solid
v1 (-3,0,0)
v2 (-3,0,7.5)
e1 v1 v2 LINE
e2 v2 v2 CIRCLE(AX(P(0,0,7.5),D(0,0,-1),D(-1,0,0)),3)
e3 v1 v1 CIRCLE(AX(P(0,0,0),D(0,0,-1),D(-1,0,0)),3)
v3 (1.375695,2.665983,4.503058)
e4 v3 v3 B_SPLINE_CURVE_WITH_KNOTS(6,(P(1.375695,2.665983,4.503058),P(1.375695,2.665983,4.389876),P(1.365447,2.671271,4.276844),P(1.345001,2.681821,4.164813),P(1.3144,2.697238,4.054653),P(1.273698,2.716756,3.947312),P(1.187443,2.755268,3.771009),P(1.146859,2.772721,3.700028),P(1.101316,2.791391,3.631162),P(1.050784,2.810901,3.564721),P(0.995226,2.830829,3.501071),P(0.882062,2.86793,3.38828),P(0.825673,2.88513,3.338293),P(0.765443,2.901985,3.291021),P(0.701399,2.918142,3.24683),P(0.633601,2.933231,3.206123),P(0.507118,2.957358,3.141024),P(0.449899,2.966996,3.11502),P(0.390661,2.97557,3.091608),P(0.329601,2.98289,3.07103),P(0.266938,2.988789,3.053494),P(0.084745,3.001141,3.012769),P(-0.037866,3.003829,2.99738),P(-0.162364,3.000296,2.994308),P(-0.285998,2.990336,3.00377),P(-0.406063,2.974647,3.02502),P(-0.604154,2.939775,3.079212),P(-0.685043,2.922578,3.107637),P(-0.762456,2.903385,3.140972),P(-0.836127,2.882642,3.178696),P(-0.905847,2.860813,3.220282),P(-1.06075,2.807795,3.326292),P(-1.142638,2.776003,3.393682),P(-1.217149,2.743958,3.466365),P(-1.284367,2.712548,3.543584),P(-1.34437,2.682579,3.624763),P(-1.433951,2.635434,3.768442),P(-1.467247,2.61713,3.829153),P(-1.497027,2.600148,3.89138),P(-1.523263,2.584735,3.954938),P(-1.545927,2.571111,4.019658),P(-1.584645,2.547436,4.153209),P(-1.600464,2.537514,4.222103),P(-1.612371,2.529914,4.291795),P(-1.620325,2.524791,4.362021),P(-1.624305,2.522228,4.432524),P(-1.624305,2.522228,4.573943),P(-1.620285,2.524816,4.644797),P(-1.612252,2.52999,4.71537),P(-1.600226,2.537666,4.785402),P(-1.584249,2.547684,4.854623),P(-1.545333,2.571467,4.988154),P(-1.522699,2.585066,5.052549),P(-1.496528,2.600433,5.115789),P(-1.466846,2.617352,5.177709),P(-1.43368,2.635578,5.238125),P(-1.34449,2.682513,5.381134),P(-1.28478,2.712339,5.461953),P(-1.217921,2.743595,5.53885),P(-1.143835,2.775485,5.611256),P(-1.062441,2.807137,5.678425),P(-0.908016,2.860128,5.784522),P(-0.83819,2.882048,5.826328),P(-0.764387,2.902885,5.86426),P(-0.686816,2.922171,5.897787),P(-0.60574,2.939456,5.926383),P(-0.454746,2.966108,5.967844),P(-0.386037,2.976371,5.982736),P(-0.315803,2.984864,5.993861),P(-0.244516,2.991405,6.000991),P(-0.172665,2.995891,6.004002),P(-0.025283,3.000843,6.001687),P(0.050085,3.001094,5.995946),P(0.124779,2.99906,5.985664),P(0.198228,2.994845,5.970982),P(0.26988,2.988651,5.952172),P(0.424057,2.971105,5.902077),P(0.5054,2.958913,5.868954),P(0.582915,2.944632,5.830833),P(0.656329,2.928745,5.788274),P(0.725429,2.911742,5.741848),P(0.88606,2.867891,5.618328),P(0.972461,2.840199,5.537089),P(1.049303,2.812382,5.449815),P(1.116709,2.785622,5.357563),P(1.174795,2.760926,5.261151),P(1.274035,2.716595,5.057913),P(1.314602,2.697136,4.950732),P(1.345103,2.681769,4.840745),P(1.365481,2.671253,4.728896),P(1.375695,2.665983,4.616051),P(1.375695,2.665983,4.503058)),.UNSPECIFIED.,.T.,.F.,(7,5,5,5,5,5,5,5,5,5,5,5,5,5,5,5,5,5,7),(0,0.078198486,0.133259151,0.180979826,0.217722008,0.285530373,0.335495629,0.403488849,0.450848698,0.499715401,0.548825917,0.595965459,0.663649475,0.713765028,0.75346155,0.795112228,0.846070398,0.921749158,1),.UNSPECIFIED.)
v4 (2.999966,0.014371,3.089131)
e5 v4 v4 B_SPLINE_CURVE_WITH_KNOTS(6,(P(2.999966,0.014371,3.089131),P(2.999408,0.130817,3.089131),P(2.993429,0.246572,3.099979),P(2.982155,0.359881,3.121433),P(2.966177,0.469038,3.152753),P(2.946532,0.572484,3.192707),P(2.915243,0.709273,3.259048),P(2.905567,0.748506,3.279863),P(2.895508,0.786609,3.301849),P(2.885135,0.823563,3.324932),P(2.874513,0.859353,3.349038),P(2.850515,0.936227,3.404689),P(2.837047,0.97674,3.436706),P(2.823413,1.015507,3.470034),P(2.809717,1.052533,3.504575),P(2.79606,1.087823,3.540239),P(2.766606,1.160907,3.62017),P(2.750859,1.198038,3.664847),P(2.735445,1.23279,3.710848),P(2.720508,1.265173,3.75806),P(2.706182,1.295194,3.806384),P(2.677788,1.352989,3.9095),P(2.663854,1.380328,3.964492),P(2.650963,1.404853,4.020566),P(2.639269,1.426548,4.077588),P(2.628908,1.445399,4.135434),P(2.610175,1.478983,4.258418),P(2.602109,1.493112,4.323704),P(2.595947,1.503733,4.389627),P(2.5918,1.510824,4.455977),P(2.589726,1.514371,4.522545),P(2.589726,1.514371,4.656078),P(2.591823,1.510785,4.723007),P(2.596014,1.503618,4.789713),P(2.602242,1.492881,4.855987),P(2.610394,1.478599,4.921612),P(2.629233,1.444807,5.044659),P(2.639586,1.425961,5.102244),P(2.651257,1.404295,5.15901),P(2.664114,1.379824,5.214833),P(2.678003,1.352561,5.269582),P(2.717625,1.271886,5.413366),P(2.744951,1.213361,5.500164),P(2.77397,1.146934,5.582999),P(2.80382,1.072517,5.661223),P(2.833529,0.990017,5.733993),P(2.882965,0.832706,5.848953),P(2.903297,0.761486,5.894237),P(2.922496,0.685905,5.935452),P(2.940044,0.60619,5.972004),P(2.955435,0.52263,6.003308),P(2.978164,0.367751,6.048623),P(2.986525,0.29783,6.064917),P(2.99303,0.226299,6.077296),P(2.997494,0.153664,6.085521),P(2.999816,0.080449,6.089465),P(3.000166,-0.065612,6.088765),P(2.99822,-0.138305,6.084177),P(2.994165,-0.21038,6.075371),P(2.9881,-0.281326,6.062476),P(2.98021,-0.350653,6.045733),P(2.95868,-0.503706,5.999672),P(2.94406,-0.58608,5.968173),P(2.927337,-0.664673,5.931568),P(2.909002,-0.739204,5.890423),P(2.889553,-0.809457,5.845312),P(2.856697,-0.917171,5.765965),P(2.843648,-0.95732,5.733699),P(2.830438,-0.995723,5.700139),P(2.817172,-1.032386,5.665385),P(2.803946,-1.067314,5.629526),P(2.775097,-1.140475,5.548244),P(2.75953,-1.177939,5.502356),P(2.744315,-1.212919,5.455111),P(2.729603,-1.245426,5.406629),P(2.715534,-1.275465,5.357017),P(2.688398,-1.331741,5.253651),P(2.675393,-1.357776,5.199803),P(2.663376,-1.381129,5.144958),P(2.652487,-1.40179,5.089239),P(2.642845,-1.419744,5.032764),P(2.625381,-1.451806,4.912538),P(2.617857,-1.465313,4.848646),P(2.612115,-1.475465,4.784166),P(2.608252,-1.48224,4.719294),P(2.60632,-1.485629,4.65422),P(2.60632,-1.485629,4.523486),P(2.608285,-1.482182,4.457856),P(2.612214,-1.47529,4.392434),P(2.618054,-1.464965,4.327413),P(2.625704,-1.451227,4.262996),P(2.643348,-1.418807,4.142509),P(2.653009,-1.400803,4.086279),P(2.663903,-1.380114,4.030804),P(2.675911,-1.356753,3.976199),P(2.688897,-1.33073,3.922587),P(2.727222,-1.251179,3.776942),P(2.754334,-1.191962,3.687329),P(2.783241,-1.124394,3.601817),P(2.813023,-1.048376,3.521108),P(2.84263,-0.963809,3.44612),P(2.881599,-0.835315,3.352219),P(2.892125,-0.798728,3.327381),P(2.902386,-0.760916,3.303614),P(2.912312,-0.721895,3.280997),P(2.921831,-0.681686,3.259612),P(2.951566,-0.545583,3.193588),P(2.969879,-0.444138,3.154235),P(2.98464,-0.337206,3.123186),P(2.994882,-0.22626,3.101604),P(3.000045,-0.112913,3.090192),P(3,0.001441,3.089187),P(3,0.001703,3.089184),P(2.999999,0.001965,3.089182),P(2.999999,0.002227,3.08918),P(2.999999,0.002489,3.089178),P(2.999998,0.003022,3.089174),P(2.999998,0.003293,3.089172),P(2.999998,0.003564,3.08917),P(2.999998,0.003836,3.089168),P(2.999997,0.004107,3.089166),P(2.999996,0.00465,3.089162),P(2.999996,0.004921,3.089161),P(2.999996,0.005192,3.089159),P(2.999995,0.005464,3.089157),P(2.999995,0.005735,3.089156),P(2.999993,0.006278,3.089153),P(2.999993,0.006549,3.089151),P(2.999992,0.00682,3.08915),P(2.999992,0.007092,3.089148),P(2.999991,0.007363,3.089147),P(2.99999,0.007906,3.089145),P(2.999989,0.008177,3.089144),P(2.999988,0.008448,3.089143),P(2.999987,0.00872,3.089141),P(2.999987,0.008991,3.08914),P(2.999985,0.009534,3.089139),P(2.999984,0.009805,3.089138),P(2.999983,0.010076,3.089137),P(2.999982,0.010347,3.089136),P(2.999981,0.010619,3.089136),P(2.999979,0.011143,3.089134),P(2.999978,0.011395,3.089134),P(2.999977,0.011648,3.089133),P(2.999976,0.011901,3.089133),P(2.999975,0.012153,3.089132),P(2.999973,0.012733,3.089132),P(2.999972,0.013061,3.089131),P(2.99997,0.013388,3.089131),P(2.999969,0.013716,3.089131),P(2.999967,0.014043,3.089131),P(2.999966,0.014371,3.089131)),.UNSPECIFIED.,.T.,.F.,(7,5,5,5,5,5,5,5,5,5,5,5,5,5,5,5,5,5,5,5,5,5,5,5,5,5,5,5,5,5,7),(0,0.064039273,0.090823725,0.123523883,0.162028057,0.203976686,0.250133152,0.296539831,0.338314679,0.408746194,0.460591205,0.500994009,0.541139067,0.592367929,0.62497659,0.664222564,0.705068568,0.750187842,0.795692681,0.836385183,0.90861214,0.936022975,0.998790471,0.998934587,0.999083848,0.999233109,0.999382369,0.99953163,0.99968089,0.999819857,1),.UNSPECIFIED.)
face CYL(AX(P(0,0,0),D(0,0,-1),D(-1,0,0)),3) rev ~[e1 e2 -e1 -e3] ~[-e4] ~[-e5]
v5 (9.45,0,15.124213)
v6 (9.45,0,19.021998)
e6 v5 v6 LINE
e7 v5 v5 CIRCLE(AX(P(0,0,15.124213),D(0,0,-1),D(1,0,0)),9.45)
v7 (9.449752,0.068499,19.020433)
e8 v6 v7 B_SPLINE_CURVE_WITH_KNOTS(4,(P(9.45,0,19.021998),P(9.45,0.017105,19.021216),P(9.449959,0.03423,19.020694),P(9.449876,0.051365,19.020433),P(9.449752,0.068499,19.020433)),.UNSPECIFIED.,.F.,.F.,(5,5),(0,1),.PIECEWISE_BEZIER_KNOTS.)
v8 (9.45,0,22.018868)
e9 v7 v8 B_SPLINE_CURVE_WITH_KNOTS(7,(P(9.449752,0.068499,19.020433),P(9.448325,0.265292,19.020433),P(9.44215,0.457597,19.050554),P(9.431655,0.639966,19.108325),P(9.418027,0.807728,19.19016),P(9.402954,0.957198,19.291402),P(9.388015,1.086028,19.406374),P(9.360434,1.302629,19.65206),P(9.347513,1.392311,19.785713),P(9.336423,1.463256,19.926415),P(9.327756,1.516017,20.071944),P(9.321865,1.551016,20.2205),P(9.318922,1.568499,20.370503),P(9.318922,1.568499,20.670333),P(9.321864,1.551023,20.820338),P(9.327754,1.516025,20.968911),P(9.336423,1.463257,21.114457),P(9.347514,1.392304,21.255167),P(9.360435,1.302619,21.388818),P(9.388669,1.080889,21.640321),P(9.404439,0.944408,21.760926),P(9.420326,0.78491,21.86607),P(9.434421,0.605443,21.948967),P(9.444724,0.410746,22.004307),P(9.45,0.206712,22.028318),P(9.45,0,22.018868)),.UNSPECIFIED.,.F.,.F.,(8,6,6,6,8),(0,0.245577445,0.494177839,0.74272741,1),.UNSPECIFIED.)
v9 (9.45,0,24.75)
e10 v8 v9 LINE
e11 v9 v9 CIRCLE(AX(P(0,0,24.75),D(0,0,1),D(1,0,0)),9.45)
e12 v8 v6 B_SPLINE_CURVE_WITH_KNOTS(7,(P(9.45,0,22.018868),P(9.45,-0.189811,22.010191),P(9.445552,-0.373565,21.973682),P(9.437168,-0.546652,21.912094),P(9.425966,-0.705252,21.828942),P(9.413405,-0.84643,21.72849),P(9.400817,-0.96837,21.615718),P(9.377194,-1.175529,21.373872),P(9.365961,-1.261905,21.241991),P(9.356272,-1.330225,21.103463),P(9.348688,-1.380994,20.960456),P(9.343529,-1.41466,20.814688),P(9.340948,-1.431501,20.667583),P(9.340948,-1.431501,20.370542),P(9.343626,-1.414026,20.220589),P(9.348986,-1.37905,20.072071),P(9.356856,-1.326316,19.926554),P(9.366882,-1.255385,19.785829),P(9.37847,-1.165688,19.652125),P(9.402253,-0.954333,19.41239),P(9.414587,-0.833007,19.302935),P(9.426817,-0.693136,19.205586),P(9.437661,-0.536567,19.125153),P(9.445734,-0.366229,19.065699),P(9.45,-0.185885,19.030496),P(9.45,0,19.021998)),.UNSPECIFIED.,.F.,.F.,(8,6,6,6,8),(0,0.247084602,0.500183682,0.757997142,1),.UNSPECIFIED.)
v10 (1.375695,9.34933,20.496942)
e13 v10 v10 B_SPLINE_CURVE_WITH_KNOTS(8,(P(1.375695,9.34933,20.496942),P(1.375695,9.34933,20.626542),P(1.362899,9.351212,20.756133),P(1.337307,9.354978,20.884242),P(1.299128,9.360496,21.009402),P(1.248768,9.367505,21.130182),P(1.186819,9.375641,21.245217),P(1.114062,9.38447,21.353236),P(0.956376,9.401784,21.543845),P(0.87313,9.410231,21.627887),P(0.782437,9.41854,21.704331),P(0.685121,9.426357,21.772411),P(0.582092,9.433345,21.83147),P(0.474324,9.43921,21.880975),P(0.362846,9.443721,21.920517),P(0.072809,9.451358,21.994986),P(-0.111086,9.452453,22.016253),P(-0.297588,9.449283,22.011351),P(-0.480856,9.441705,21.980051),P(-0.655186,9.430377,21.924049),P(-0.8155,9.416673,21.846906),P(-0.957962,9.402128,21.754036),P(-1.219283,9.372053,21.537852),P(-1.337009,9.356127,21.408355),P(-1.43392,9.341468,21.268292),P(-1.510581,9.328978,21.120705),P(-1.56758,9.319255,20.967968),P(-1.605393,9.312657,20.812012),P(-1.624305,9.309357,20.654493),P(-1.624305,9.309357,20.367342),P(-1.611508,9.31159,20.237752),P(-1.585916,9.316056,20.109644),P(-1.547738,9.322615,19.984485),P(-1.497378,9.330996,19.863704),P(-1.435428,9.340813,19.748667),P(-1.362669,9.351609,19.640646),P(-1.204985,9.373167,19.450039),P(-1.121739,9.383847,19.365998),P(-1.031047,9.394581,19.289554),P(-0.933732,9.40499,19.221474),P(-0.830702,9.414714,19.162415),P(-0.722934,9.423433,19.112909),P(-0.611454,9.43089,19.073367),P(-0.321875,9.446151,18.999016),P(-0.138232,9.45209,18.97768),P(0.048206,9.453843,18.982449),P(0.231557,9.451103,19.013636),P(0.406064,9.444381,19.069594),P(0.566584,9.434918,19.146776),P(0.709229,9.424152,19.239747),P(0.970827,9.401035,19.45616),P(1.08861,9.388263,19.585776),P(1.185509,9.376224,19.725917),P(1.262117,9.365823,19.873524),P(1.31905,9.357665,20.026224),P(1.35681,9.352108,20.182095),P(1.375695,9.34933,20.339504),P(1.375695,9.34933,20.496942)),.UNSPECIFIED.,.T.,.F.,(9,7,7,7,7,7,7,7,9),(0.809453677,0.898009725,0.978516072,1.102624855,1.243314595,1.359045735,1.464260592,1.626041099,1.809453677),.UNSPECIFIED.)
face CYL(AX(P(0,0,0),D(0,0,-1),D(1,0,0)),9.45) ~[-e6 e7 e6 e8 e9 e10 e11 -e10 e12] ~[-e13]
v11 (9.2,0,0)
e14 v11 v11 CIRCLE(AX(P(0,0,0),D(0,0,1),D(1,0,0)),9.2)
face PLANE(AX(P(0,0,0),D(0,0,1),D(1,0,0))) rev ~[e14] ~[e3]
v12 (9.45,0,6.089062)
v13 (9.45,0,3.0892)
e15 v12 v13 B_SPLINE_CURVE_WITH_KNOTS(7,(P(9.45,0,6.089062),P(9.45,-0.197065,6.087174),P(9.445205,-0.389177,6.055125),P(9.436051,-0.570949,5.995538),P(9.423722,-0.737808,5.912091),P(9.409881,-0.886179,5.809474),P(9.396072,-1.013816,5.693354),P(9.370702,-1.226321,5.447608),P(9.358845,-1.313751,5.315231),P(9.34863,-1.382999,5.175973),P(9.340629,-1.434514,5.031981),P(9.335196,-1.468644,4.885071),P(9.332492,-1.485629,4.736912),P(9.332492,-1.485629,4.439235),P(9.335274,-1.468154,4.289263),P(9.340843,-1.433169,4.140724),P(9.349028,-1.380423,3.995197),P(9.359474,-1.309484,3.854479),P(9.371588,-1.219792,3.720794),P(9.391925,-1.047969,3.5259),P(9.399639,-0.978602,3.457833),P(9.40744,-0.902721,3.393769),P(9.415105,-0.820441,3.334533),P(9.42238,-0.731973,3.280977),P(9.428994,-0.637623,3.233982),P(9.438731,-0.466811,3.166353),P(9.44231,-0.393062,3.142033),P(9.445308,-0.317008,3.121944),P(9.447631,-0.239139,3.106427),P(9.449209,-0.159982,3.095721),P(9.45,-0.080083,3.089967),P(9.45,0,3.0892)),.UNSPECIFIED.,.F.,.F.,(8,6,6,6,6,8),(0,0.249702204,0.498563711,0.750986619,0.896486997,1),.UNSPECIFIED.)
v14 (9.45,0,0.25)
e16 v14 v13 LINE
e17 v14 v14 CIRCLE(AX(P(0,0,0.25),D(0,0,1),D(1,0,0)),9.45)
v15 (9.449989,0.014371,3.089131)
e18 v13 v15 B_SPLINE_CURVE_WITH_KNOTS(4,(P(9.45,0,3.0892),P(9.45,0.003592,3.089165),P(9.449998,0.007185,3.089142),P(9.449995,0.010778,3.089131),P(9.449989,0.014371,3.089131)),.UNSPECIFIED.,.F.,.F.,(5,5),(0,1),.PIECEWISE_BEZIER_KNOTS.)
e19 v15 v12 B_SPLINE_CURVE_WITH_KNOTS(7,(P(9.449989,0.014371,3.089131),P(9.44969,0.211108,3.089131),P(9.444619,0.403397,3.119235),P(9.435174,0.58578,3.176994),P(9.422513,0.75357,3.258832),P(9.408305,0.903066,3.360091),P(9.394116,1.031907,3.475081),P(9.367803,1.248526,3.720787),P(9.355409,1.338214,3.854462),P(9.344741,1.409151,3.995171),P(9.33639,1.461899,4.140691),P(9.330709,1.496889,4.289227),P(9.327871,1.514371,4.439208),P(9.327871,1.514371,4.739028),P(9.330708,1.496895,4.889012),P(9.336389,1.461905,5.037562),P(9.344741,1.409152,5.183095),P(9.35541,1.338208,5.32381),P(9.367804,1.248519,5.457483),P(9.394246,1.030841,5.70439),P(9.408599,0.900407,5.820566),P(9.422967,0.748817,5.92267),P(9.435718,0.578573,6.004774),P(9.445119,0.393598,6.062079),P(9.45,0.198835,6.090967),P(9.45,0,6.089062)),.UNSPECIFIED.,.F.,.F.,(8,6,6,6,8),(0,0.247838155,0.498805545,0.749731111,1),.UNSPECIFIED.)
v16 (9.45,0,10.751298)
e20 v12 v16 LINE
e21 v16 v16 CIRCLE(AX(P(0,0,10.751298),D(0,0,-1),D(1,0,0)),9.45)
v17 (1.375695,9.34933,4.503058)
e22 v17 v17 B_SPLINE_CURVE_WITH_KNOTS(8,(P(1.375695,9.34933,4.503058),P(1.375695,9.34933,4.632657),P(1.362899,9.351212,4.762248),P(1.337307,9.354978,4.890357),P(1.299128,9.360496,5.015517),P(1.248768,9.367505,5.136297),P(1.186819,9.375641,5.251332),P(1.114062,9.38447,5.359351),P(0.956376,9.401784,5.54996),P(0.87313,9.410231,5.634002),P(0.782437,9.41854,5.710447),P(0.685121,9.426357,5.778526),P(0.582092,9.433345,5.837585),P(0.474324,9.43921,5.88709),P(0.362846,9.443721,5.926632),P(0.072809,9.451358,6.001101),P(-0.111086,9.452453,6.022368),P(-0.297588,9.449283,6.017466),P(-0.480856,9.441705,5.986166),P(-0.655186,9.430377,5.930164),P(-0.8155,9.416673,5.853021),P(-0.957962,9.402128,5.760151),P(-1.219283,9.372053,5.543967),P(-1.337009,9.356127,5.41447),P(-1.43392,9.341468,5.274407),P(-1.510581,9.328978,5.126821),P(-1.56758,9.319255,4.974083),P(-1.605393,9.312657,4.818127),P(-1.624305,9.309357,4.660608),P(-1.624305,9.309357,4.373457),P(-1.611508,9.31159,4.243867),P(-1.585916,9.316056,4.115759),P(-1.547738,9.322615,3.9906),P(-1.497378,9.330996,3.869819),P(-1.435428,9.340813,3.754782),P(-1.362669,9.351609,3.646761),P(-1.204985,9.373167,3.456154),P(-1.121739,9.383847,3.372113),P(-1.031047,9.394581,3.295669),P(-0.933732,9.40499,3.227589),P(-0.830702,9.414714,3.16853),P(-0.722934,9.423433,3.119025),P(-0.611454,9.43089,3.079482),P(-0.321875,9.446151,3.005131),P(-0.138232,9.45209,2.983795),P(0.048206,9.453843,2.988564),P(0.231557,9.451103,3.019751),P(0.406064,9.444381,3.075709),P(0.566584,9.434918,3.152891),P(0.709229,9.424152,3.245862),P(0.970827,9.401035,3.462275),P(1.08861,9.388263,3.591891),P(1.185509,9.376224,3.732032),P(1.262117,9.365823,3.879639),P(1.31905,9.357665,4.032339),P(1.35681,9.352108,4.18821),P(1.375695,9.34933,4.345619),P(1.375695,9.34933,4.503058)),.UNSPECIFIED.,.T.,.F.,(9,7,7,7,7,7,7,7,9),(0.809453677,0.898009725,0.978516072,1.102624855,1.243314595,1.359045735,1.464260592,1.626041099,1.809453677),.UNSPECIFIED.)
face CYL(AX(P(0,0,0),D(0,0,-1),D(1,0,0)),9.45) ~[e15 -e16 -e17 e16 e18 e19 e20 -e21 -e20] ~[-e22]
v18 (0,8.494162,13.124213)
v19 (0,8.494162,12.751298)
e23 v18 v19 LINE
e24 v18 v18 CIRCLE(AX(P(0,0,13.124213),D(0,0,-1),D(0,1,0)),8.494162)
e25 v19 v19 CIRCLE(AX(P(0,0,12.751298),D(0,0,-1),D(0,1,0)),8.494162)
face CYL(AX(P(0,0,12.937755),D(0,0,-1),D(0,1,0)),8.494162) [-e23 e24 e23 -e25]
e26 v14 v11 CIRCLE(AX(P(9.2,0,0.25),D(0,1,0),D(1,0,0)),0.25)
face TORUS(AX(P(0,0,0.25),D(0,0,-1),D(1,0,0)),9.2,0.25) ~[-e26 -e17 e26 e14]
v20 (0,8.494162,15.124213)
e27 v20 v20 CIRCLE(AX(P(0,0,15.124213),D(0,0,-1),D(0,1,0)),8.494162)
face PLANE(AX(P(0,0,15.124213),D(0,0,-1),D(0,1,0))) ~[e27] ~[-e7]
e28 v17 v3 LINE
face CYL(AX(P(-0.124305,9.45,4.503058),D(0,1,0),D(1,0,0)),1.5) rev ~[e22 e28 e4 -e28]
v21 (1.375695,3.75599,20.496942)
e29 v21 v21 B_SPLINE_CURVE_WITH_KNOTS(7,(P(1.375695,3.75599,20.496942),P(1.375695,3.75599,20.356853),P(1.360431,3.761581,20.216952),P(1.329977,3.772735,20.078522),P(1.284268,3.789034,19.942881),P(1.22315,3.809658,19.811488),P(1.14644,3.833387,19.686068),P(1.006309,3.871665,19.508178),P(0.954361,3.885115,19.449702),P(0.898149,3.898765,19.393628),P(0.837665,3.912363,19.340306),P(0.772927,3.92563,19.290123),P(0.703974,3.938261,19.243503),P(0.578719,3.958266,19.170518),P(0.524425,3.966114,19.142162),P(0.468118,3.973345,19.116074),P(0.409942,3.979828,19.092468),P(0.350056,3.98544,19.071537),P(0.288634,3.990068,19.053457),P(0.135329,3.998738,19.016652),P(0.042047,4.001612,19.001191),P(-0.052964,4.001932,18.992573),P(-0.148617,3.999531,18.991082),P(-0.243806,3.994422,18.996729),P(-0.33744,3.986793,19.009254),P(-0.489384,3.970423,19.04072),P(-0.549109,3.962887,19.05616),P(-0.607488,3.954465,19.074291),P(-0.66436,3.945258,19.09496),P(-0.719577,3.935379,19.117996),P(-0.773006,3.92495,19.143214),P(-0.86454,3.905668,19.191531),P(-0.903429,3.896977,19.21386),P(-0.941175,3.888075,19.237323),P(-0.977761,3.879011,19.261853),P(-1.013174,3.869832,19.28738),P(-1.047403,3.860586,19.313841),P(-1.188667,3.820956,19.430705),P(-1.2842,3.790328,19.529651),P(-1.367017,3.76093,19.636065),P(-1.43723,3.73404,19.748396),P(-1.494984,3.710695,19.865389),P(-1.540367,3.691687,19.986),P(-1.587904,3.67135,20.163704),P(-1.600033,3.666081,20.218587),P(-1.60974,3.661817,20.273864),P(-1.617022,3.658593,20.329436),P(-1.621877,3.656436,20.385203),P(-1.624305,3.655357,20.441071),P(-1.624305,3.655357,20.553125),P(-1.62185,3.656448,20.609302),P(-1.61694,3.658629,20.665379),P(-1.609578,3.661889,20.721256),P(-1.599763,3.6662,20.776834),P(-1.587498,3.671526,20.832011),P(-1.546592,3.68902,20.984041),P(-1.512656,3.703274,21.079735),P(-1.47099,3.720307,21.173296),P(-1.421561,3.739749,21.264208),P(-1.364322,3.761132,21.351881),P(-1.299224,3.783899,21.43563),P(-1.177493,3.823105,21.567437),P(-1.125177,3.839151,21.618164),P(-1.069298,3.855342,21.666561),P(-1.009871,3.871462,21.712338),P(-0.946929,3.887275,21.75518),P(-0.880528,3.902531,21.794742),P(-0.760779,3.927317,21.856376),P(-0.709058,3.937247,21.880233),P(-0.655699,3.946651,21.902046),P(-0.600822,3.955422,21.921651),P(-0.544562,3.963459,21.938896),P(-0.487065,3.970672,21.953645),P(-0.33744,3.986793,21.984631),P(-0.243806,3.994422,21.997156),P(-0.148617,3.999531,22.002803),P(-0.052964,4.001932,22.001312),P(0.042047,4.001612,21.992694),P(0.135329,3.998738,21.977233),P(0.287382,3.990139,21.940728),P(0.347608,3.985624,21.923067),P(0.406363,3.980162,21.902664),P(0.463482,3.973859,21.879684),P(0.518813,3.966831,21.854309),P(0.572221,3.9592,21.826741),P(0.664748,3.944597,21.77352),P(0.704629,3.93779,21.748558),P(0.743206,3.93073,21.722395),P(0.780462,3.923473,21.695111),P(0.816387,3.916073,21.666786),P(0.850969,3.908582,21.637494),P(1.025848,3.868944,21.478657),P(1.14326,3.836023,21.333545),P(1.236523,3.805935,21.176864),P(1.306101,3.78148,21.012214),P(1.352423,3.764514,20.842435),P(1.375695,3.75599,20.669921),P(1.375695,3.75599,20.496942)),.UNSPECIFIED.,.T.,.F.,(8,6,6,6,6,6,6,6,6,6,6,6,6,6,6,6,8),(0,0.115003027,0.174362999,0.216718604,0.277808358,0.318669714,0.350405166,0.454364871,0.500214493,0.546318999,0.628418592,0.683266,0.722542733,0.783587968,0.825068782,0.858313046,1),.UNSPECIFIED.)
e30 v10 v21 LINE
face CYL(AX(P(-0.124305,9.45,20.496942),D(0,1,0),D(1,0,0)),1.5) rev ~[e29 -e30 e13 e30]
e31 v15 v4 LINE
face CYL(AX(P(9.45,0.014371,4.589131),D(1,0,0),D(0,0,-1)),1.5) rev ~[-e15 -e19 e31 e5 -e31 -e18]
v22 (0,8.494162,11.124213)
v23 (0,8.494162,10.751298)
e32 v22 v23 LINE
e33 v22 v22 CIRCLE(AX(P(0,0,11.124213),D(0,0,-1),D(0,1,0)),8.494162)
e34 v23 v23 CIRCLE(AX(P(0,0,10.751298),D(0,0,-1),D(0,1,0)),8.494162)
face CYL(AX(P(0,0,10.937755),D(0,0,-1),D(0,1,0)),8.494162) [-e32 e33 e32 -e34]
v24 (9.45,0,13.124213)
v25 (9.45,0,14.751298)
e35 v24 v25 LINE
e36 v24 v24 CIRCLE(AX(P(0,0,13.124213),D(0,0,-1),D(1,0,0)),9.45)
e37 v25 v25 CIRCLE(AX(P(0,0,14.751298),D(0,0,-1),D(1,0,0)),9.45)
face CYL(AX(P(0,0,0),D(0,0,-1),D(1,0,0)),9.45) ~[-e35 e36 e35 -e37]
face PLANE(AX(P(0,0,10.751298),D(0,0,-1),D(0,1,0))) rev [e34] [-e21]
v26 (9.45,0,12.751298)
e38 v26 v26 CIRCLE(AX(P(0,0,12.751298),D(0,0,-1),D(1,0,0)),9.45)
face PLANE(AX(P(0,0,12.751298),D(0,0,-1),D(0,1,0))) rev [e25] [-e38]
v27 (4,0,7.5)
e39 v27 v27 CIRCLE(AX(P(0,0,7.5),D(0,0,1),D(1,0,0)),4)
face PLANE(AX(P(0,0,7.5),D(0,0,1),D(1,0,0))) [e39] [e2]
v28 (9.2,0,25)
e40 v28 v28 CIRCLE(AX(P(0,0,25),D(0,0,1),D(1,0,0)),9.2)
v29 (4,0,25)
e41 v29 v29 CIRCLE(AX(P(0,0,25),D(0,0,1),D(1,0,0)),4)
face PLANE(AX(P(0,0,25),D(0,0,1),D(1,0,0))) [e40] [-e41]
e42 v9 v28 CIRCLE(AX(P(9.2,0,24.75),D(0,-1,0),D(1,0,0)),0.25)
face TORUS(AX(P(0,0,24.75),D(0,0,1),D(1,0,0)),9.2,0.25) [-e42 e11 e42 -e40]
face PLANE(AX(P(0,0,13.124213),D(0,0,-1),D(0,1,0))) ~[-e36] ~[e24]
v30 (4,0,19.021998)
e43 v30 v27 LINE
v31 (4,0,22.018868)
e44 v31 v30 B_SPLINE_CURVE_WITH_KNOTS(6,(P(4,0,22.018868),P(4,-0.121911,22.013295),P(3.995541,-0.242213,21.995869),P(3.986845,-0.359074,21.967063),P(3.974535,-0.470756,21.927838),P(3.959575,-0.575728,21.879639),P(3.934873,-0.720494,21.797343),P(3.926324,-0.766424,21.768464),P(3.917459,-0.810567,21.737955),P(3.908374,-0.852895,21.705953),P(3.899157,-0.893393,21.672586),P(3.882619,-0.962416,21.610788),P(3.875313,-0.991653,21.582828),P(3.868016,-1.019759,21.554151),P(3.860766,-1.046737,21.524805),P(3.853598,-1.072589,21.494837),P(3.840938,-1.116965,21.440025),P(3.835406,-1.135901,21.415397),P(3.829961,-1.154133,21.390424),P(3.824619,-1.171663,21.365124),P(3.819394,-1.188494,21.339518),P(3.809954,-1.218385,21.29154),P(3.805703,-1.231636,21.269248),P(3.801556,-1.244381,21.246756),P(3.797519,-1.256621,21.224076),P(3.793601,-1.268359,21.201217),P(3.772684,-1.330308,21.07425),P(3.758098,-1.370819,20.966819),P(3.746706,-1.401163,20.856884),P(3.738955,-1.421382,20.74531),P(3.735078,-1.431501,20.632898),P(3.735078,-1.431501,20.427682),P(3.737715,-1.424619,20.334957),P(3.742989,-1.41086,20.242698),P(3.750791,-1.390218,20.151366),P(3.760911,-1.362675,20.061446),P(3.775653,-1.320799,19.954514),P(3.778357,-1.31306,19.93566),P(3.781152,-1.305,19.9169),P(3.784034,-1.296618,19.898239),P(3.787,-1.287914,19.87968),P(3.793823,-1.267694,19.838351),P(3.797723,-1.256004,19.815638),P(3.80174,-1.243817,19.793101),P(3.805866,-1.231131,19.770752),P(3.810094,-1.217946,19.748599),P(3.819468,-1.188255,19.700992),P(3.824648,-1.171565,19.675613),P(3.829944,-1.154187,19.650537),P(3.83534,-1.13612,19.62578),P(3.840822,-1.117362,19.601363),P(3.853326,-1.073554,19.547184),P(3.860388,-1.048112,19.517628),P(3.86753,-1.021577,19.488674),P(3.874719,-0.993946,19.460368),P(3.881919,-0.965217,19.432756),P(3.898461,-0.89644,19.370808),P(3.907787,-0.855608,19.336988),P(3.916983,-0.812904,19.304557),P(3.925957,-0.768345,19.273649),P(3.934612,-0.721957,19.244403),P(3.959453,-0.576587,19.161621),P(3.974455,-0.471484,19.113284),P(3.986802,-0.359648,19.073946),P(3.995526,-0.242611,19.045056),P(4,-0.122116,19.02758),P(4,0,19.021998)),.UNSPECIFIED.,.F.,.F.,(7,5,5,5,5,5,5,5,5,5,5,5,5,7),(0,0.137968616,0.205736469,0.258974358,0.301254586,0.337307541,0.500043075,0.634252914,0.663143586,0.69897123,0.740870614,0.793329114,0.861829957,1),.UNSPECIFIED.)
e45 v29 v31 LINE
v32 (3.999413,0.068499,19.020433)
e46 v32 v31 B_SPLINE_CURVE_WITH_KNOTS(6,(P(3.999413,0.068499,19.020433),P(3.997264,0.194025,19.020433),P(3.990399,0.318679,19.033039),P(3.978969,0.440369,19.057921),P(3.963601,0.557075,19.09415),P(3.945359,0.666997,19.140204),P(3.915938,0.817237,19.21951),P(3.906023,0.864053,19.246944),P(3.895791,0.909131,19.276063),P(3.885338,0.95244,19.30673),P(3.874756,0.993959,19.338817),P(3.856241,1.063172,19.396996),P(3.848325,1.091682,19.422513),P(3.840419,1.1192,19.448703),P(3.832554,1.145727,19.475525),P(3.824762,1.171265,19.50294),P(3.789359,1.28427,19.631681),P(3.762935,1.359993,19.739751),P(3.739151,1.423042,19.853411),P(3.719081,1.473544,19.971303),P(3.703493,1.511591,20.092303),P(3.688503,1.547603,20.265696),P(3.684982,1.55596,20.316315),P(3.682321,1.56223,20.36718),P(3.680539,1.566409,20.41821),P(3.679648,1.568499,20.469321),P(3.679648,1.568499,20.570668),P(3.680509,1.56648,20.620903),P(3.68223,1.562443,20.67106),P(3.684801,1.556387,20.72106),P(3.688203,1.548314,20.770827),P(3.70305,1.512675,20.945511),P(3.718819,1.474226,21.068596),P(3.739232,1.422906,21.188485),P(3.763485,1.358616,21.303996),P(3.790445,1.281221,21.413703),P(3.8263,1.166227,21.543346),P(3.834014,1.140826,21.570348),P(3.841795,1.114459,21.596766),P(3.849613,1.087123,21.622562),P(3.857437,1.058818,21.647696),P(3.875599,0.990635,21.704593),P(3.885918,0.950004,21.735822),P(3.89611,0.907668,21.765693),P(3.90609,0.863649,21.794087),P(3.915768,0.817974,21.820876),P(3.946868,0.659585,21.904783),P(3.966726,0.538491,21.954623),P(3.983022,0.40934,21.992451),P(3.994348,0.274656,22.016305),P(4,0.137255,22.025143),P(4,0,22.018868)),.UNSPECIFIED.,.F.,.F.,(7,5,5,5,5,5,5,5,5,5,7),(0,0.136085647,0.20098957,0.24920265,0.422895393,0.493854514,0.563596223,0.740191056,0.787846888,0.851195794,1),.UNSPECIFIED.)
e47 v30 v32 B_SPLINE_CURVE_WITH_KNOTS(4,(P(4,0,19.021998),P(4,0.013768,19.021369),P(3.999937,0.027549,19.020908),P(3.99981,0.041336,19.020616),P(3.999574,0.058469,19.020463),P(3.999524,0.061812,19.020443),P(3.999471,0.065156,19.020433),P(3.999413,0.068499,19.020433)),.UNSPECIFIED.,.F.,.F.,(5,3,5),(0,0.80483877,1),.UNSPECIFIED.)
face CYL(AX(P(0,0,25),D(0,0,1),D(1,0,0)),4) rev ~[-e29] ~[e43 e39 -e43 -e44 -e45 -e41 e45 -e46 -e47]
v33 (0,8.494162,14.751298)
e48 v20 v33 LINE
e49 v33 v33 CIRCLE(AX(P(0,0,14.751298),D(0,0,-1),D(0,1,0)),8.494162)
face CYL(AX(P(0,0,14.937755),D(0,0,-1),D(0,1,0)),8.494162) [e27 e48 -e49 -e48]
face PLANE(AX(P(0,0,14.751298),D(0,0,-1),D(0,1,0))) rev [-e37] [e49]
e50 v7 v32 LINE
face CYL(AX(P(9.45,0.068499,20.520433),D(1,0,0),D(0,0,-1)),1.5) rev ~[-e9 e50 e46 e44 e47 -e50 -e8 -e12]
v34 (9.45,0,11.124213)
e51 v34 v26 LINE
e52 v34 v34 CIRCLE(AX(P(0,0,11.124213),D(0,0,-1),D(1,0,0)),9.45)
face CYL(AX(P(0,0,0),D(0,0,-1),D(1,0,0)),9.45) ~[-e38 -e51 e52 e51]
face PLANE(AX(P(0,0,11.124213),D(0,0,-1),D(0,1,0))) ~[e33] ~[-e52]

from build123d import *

# Parameters (mm, degrees)
ESQUISSE1_R             = 9.45
BOSS_EXTRU_1_DEPTH      = 25
CONG_1_R                = 0.25
ESQUISSE2_R             = 4
ENL_V_MAT_EXTRU_1_DEPTH = 17.5
ESQUISSE3_R             = 3
ENL_V_MAT_EXTRU_2_DEPTH = 17.5
ESQUISSE4_R             = 1.5
ENL_V_MAT_EXTRU_3_DEPTH = 10
ESQUISSE5_R             = 1.5
ENL_V_MAT_EXTRU_4_DEPTH = 10
ESQUISSE7_W             = 0.372914415
ESQUISSE7_H             = 1.339729566


with BuildPart() as part:
    # Esquisse1 → Boss.-Extru.1 (new body)
    with BuildSketch(Plane.XY):
        Circle(ESQUISSE1_R)
    extrude(amount=BOSS_EXTRU_1_DEPTH)

    # Congé1
    cong_1_edges = [part.edges().sort_by_distance(p)[0] for p in [
        (-9.45, 0, 0),
        (-9.45, 0, 25),
    ]]
    fillet(cong_1_edges, radius=CONG_1_R)

    # Esquisse2 → Enlèv. mat.-Extru.1 (cut)
    with BuildSketch(Plane.XY.offset(25)):
        Circle(ESQUISSE2_R)
    extrude(amount=-ENL_V_MAT_EXTRU_1_DEPTH, mode=Mode.SUBTRACT)

    # Esquisse3 → Enlèv. mat.-Extru.2 (cut)
    with BuildSketch(Plane(origin=(0, 0, 0), x_dir=(-1, 0, 0), z_dir=(0, 0, -1))):
        Circle(ESQUISSE3_R)
    extrude(amount=-ENL_V_MAT_EXTRU_2_DEPTH, mode=Mode.SUBTRACT)

    # Esquisse4 → Enlèv. mat.-Extru.3 (cut)
    with BuildSketch(Plane(origin=(9.45, 0, 0), x_dir=(0, 0, -1), z_dir=(1, 0, 0))):
        with Locations((-4.589130857, 0.014370537)):
            Circle(ESQUISSE4_R)
        with Locations((-20.520433185, 0.068499333)):
            Circle(ESQUISSE4_R)
    extrude(amount=-ENL_V_MAT_EXTRU_3_DEPTH, mode=Mode.SUBTRACT)

    # Esquisse5 → Enlèv. mat.-Extru.4 (cut)
    with BuildSketch(Plane(origin=(0, 9.45, 0), x_dir=(1, 0, 0), z_dir=(0, 1, 0))):
        with Locations((-0.124304805, -20.496942457)):
            Circle(ESQUISSE5_R)
        with Locations((-0.124304805, -4.503057543)):
            Circle(ESQUISSE5_R)
    extrude(amount=-ENL_V_MAT_EXTRU_4_DEPTH, mode=Mode.SUBTRACT)

    # Esquisse7 → Enlèvement de matière-Révolution1 (revolve, cut)
    with BuildSketch(Plane(origin=(0, 0, 0), x_dir=(0, 0, -1), z_dir=(1, 0, 0))):
        with Locations((-12.937755344, 9.16402646)):
            Rectangle(ESQUISSE7_W, ESQUISSE7_H)
        with Locations((-14.937755344, 9.16402646)):
            Rectangle(ESQUISSE7_W, ESQUISSE7_H)
        with Locations((-10.937755344, 9.16402646)):
            Rectangle(ESQUISSE7_W, ESQUISSE7_H)
    revolve(axis=Axis((0, 0, 25), (0, 0, -1)), mode=Mode.SUBTRACT)


solid = part.part
